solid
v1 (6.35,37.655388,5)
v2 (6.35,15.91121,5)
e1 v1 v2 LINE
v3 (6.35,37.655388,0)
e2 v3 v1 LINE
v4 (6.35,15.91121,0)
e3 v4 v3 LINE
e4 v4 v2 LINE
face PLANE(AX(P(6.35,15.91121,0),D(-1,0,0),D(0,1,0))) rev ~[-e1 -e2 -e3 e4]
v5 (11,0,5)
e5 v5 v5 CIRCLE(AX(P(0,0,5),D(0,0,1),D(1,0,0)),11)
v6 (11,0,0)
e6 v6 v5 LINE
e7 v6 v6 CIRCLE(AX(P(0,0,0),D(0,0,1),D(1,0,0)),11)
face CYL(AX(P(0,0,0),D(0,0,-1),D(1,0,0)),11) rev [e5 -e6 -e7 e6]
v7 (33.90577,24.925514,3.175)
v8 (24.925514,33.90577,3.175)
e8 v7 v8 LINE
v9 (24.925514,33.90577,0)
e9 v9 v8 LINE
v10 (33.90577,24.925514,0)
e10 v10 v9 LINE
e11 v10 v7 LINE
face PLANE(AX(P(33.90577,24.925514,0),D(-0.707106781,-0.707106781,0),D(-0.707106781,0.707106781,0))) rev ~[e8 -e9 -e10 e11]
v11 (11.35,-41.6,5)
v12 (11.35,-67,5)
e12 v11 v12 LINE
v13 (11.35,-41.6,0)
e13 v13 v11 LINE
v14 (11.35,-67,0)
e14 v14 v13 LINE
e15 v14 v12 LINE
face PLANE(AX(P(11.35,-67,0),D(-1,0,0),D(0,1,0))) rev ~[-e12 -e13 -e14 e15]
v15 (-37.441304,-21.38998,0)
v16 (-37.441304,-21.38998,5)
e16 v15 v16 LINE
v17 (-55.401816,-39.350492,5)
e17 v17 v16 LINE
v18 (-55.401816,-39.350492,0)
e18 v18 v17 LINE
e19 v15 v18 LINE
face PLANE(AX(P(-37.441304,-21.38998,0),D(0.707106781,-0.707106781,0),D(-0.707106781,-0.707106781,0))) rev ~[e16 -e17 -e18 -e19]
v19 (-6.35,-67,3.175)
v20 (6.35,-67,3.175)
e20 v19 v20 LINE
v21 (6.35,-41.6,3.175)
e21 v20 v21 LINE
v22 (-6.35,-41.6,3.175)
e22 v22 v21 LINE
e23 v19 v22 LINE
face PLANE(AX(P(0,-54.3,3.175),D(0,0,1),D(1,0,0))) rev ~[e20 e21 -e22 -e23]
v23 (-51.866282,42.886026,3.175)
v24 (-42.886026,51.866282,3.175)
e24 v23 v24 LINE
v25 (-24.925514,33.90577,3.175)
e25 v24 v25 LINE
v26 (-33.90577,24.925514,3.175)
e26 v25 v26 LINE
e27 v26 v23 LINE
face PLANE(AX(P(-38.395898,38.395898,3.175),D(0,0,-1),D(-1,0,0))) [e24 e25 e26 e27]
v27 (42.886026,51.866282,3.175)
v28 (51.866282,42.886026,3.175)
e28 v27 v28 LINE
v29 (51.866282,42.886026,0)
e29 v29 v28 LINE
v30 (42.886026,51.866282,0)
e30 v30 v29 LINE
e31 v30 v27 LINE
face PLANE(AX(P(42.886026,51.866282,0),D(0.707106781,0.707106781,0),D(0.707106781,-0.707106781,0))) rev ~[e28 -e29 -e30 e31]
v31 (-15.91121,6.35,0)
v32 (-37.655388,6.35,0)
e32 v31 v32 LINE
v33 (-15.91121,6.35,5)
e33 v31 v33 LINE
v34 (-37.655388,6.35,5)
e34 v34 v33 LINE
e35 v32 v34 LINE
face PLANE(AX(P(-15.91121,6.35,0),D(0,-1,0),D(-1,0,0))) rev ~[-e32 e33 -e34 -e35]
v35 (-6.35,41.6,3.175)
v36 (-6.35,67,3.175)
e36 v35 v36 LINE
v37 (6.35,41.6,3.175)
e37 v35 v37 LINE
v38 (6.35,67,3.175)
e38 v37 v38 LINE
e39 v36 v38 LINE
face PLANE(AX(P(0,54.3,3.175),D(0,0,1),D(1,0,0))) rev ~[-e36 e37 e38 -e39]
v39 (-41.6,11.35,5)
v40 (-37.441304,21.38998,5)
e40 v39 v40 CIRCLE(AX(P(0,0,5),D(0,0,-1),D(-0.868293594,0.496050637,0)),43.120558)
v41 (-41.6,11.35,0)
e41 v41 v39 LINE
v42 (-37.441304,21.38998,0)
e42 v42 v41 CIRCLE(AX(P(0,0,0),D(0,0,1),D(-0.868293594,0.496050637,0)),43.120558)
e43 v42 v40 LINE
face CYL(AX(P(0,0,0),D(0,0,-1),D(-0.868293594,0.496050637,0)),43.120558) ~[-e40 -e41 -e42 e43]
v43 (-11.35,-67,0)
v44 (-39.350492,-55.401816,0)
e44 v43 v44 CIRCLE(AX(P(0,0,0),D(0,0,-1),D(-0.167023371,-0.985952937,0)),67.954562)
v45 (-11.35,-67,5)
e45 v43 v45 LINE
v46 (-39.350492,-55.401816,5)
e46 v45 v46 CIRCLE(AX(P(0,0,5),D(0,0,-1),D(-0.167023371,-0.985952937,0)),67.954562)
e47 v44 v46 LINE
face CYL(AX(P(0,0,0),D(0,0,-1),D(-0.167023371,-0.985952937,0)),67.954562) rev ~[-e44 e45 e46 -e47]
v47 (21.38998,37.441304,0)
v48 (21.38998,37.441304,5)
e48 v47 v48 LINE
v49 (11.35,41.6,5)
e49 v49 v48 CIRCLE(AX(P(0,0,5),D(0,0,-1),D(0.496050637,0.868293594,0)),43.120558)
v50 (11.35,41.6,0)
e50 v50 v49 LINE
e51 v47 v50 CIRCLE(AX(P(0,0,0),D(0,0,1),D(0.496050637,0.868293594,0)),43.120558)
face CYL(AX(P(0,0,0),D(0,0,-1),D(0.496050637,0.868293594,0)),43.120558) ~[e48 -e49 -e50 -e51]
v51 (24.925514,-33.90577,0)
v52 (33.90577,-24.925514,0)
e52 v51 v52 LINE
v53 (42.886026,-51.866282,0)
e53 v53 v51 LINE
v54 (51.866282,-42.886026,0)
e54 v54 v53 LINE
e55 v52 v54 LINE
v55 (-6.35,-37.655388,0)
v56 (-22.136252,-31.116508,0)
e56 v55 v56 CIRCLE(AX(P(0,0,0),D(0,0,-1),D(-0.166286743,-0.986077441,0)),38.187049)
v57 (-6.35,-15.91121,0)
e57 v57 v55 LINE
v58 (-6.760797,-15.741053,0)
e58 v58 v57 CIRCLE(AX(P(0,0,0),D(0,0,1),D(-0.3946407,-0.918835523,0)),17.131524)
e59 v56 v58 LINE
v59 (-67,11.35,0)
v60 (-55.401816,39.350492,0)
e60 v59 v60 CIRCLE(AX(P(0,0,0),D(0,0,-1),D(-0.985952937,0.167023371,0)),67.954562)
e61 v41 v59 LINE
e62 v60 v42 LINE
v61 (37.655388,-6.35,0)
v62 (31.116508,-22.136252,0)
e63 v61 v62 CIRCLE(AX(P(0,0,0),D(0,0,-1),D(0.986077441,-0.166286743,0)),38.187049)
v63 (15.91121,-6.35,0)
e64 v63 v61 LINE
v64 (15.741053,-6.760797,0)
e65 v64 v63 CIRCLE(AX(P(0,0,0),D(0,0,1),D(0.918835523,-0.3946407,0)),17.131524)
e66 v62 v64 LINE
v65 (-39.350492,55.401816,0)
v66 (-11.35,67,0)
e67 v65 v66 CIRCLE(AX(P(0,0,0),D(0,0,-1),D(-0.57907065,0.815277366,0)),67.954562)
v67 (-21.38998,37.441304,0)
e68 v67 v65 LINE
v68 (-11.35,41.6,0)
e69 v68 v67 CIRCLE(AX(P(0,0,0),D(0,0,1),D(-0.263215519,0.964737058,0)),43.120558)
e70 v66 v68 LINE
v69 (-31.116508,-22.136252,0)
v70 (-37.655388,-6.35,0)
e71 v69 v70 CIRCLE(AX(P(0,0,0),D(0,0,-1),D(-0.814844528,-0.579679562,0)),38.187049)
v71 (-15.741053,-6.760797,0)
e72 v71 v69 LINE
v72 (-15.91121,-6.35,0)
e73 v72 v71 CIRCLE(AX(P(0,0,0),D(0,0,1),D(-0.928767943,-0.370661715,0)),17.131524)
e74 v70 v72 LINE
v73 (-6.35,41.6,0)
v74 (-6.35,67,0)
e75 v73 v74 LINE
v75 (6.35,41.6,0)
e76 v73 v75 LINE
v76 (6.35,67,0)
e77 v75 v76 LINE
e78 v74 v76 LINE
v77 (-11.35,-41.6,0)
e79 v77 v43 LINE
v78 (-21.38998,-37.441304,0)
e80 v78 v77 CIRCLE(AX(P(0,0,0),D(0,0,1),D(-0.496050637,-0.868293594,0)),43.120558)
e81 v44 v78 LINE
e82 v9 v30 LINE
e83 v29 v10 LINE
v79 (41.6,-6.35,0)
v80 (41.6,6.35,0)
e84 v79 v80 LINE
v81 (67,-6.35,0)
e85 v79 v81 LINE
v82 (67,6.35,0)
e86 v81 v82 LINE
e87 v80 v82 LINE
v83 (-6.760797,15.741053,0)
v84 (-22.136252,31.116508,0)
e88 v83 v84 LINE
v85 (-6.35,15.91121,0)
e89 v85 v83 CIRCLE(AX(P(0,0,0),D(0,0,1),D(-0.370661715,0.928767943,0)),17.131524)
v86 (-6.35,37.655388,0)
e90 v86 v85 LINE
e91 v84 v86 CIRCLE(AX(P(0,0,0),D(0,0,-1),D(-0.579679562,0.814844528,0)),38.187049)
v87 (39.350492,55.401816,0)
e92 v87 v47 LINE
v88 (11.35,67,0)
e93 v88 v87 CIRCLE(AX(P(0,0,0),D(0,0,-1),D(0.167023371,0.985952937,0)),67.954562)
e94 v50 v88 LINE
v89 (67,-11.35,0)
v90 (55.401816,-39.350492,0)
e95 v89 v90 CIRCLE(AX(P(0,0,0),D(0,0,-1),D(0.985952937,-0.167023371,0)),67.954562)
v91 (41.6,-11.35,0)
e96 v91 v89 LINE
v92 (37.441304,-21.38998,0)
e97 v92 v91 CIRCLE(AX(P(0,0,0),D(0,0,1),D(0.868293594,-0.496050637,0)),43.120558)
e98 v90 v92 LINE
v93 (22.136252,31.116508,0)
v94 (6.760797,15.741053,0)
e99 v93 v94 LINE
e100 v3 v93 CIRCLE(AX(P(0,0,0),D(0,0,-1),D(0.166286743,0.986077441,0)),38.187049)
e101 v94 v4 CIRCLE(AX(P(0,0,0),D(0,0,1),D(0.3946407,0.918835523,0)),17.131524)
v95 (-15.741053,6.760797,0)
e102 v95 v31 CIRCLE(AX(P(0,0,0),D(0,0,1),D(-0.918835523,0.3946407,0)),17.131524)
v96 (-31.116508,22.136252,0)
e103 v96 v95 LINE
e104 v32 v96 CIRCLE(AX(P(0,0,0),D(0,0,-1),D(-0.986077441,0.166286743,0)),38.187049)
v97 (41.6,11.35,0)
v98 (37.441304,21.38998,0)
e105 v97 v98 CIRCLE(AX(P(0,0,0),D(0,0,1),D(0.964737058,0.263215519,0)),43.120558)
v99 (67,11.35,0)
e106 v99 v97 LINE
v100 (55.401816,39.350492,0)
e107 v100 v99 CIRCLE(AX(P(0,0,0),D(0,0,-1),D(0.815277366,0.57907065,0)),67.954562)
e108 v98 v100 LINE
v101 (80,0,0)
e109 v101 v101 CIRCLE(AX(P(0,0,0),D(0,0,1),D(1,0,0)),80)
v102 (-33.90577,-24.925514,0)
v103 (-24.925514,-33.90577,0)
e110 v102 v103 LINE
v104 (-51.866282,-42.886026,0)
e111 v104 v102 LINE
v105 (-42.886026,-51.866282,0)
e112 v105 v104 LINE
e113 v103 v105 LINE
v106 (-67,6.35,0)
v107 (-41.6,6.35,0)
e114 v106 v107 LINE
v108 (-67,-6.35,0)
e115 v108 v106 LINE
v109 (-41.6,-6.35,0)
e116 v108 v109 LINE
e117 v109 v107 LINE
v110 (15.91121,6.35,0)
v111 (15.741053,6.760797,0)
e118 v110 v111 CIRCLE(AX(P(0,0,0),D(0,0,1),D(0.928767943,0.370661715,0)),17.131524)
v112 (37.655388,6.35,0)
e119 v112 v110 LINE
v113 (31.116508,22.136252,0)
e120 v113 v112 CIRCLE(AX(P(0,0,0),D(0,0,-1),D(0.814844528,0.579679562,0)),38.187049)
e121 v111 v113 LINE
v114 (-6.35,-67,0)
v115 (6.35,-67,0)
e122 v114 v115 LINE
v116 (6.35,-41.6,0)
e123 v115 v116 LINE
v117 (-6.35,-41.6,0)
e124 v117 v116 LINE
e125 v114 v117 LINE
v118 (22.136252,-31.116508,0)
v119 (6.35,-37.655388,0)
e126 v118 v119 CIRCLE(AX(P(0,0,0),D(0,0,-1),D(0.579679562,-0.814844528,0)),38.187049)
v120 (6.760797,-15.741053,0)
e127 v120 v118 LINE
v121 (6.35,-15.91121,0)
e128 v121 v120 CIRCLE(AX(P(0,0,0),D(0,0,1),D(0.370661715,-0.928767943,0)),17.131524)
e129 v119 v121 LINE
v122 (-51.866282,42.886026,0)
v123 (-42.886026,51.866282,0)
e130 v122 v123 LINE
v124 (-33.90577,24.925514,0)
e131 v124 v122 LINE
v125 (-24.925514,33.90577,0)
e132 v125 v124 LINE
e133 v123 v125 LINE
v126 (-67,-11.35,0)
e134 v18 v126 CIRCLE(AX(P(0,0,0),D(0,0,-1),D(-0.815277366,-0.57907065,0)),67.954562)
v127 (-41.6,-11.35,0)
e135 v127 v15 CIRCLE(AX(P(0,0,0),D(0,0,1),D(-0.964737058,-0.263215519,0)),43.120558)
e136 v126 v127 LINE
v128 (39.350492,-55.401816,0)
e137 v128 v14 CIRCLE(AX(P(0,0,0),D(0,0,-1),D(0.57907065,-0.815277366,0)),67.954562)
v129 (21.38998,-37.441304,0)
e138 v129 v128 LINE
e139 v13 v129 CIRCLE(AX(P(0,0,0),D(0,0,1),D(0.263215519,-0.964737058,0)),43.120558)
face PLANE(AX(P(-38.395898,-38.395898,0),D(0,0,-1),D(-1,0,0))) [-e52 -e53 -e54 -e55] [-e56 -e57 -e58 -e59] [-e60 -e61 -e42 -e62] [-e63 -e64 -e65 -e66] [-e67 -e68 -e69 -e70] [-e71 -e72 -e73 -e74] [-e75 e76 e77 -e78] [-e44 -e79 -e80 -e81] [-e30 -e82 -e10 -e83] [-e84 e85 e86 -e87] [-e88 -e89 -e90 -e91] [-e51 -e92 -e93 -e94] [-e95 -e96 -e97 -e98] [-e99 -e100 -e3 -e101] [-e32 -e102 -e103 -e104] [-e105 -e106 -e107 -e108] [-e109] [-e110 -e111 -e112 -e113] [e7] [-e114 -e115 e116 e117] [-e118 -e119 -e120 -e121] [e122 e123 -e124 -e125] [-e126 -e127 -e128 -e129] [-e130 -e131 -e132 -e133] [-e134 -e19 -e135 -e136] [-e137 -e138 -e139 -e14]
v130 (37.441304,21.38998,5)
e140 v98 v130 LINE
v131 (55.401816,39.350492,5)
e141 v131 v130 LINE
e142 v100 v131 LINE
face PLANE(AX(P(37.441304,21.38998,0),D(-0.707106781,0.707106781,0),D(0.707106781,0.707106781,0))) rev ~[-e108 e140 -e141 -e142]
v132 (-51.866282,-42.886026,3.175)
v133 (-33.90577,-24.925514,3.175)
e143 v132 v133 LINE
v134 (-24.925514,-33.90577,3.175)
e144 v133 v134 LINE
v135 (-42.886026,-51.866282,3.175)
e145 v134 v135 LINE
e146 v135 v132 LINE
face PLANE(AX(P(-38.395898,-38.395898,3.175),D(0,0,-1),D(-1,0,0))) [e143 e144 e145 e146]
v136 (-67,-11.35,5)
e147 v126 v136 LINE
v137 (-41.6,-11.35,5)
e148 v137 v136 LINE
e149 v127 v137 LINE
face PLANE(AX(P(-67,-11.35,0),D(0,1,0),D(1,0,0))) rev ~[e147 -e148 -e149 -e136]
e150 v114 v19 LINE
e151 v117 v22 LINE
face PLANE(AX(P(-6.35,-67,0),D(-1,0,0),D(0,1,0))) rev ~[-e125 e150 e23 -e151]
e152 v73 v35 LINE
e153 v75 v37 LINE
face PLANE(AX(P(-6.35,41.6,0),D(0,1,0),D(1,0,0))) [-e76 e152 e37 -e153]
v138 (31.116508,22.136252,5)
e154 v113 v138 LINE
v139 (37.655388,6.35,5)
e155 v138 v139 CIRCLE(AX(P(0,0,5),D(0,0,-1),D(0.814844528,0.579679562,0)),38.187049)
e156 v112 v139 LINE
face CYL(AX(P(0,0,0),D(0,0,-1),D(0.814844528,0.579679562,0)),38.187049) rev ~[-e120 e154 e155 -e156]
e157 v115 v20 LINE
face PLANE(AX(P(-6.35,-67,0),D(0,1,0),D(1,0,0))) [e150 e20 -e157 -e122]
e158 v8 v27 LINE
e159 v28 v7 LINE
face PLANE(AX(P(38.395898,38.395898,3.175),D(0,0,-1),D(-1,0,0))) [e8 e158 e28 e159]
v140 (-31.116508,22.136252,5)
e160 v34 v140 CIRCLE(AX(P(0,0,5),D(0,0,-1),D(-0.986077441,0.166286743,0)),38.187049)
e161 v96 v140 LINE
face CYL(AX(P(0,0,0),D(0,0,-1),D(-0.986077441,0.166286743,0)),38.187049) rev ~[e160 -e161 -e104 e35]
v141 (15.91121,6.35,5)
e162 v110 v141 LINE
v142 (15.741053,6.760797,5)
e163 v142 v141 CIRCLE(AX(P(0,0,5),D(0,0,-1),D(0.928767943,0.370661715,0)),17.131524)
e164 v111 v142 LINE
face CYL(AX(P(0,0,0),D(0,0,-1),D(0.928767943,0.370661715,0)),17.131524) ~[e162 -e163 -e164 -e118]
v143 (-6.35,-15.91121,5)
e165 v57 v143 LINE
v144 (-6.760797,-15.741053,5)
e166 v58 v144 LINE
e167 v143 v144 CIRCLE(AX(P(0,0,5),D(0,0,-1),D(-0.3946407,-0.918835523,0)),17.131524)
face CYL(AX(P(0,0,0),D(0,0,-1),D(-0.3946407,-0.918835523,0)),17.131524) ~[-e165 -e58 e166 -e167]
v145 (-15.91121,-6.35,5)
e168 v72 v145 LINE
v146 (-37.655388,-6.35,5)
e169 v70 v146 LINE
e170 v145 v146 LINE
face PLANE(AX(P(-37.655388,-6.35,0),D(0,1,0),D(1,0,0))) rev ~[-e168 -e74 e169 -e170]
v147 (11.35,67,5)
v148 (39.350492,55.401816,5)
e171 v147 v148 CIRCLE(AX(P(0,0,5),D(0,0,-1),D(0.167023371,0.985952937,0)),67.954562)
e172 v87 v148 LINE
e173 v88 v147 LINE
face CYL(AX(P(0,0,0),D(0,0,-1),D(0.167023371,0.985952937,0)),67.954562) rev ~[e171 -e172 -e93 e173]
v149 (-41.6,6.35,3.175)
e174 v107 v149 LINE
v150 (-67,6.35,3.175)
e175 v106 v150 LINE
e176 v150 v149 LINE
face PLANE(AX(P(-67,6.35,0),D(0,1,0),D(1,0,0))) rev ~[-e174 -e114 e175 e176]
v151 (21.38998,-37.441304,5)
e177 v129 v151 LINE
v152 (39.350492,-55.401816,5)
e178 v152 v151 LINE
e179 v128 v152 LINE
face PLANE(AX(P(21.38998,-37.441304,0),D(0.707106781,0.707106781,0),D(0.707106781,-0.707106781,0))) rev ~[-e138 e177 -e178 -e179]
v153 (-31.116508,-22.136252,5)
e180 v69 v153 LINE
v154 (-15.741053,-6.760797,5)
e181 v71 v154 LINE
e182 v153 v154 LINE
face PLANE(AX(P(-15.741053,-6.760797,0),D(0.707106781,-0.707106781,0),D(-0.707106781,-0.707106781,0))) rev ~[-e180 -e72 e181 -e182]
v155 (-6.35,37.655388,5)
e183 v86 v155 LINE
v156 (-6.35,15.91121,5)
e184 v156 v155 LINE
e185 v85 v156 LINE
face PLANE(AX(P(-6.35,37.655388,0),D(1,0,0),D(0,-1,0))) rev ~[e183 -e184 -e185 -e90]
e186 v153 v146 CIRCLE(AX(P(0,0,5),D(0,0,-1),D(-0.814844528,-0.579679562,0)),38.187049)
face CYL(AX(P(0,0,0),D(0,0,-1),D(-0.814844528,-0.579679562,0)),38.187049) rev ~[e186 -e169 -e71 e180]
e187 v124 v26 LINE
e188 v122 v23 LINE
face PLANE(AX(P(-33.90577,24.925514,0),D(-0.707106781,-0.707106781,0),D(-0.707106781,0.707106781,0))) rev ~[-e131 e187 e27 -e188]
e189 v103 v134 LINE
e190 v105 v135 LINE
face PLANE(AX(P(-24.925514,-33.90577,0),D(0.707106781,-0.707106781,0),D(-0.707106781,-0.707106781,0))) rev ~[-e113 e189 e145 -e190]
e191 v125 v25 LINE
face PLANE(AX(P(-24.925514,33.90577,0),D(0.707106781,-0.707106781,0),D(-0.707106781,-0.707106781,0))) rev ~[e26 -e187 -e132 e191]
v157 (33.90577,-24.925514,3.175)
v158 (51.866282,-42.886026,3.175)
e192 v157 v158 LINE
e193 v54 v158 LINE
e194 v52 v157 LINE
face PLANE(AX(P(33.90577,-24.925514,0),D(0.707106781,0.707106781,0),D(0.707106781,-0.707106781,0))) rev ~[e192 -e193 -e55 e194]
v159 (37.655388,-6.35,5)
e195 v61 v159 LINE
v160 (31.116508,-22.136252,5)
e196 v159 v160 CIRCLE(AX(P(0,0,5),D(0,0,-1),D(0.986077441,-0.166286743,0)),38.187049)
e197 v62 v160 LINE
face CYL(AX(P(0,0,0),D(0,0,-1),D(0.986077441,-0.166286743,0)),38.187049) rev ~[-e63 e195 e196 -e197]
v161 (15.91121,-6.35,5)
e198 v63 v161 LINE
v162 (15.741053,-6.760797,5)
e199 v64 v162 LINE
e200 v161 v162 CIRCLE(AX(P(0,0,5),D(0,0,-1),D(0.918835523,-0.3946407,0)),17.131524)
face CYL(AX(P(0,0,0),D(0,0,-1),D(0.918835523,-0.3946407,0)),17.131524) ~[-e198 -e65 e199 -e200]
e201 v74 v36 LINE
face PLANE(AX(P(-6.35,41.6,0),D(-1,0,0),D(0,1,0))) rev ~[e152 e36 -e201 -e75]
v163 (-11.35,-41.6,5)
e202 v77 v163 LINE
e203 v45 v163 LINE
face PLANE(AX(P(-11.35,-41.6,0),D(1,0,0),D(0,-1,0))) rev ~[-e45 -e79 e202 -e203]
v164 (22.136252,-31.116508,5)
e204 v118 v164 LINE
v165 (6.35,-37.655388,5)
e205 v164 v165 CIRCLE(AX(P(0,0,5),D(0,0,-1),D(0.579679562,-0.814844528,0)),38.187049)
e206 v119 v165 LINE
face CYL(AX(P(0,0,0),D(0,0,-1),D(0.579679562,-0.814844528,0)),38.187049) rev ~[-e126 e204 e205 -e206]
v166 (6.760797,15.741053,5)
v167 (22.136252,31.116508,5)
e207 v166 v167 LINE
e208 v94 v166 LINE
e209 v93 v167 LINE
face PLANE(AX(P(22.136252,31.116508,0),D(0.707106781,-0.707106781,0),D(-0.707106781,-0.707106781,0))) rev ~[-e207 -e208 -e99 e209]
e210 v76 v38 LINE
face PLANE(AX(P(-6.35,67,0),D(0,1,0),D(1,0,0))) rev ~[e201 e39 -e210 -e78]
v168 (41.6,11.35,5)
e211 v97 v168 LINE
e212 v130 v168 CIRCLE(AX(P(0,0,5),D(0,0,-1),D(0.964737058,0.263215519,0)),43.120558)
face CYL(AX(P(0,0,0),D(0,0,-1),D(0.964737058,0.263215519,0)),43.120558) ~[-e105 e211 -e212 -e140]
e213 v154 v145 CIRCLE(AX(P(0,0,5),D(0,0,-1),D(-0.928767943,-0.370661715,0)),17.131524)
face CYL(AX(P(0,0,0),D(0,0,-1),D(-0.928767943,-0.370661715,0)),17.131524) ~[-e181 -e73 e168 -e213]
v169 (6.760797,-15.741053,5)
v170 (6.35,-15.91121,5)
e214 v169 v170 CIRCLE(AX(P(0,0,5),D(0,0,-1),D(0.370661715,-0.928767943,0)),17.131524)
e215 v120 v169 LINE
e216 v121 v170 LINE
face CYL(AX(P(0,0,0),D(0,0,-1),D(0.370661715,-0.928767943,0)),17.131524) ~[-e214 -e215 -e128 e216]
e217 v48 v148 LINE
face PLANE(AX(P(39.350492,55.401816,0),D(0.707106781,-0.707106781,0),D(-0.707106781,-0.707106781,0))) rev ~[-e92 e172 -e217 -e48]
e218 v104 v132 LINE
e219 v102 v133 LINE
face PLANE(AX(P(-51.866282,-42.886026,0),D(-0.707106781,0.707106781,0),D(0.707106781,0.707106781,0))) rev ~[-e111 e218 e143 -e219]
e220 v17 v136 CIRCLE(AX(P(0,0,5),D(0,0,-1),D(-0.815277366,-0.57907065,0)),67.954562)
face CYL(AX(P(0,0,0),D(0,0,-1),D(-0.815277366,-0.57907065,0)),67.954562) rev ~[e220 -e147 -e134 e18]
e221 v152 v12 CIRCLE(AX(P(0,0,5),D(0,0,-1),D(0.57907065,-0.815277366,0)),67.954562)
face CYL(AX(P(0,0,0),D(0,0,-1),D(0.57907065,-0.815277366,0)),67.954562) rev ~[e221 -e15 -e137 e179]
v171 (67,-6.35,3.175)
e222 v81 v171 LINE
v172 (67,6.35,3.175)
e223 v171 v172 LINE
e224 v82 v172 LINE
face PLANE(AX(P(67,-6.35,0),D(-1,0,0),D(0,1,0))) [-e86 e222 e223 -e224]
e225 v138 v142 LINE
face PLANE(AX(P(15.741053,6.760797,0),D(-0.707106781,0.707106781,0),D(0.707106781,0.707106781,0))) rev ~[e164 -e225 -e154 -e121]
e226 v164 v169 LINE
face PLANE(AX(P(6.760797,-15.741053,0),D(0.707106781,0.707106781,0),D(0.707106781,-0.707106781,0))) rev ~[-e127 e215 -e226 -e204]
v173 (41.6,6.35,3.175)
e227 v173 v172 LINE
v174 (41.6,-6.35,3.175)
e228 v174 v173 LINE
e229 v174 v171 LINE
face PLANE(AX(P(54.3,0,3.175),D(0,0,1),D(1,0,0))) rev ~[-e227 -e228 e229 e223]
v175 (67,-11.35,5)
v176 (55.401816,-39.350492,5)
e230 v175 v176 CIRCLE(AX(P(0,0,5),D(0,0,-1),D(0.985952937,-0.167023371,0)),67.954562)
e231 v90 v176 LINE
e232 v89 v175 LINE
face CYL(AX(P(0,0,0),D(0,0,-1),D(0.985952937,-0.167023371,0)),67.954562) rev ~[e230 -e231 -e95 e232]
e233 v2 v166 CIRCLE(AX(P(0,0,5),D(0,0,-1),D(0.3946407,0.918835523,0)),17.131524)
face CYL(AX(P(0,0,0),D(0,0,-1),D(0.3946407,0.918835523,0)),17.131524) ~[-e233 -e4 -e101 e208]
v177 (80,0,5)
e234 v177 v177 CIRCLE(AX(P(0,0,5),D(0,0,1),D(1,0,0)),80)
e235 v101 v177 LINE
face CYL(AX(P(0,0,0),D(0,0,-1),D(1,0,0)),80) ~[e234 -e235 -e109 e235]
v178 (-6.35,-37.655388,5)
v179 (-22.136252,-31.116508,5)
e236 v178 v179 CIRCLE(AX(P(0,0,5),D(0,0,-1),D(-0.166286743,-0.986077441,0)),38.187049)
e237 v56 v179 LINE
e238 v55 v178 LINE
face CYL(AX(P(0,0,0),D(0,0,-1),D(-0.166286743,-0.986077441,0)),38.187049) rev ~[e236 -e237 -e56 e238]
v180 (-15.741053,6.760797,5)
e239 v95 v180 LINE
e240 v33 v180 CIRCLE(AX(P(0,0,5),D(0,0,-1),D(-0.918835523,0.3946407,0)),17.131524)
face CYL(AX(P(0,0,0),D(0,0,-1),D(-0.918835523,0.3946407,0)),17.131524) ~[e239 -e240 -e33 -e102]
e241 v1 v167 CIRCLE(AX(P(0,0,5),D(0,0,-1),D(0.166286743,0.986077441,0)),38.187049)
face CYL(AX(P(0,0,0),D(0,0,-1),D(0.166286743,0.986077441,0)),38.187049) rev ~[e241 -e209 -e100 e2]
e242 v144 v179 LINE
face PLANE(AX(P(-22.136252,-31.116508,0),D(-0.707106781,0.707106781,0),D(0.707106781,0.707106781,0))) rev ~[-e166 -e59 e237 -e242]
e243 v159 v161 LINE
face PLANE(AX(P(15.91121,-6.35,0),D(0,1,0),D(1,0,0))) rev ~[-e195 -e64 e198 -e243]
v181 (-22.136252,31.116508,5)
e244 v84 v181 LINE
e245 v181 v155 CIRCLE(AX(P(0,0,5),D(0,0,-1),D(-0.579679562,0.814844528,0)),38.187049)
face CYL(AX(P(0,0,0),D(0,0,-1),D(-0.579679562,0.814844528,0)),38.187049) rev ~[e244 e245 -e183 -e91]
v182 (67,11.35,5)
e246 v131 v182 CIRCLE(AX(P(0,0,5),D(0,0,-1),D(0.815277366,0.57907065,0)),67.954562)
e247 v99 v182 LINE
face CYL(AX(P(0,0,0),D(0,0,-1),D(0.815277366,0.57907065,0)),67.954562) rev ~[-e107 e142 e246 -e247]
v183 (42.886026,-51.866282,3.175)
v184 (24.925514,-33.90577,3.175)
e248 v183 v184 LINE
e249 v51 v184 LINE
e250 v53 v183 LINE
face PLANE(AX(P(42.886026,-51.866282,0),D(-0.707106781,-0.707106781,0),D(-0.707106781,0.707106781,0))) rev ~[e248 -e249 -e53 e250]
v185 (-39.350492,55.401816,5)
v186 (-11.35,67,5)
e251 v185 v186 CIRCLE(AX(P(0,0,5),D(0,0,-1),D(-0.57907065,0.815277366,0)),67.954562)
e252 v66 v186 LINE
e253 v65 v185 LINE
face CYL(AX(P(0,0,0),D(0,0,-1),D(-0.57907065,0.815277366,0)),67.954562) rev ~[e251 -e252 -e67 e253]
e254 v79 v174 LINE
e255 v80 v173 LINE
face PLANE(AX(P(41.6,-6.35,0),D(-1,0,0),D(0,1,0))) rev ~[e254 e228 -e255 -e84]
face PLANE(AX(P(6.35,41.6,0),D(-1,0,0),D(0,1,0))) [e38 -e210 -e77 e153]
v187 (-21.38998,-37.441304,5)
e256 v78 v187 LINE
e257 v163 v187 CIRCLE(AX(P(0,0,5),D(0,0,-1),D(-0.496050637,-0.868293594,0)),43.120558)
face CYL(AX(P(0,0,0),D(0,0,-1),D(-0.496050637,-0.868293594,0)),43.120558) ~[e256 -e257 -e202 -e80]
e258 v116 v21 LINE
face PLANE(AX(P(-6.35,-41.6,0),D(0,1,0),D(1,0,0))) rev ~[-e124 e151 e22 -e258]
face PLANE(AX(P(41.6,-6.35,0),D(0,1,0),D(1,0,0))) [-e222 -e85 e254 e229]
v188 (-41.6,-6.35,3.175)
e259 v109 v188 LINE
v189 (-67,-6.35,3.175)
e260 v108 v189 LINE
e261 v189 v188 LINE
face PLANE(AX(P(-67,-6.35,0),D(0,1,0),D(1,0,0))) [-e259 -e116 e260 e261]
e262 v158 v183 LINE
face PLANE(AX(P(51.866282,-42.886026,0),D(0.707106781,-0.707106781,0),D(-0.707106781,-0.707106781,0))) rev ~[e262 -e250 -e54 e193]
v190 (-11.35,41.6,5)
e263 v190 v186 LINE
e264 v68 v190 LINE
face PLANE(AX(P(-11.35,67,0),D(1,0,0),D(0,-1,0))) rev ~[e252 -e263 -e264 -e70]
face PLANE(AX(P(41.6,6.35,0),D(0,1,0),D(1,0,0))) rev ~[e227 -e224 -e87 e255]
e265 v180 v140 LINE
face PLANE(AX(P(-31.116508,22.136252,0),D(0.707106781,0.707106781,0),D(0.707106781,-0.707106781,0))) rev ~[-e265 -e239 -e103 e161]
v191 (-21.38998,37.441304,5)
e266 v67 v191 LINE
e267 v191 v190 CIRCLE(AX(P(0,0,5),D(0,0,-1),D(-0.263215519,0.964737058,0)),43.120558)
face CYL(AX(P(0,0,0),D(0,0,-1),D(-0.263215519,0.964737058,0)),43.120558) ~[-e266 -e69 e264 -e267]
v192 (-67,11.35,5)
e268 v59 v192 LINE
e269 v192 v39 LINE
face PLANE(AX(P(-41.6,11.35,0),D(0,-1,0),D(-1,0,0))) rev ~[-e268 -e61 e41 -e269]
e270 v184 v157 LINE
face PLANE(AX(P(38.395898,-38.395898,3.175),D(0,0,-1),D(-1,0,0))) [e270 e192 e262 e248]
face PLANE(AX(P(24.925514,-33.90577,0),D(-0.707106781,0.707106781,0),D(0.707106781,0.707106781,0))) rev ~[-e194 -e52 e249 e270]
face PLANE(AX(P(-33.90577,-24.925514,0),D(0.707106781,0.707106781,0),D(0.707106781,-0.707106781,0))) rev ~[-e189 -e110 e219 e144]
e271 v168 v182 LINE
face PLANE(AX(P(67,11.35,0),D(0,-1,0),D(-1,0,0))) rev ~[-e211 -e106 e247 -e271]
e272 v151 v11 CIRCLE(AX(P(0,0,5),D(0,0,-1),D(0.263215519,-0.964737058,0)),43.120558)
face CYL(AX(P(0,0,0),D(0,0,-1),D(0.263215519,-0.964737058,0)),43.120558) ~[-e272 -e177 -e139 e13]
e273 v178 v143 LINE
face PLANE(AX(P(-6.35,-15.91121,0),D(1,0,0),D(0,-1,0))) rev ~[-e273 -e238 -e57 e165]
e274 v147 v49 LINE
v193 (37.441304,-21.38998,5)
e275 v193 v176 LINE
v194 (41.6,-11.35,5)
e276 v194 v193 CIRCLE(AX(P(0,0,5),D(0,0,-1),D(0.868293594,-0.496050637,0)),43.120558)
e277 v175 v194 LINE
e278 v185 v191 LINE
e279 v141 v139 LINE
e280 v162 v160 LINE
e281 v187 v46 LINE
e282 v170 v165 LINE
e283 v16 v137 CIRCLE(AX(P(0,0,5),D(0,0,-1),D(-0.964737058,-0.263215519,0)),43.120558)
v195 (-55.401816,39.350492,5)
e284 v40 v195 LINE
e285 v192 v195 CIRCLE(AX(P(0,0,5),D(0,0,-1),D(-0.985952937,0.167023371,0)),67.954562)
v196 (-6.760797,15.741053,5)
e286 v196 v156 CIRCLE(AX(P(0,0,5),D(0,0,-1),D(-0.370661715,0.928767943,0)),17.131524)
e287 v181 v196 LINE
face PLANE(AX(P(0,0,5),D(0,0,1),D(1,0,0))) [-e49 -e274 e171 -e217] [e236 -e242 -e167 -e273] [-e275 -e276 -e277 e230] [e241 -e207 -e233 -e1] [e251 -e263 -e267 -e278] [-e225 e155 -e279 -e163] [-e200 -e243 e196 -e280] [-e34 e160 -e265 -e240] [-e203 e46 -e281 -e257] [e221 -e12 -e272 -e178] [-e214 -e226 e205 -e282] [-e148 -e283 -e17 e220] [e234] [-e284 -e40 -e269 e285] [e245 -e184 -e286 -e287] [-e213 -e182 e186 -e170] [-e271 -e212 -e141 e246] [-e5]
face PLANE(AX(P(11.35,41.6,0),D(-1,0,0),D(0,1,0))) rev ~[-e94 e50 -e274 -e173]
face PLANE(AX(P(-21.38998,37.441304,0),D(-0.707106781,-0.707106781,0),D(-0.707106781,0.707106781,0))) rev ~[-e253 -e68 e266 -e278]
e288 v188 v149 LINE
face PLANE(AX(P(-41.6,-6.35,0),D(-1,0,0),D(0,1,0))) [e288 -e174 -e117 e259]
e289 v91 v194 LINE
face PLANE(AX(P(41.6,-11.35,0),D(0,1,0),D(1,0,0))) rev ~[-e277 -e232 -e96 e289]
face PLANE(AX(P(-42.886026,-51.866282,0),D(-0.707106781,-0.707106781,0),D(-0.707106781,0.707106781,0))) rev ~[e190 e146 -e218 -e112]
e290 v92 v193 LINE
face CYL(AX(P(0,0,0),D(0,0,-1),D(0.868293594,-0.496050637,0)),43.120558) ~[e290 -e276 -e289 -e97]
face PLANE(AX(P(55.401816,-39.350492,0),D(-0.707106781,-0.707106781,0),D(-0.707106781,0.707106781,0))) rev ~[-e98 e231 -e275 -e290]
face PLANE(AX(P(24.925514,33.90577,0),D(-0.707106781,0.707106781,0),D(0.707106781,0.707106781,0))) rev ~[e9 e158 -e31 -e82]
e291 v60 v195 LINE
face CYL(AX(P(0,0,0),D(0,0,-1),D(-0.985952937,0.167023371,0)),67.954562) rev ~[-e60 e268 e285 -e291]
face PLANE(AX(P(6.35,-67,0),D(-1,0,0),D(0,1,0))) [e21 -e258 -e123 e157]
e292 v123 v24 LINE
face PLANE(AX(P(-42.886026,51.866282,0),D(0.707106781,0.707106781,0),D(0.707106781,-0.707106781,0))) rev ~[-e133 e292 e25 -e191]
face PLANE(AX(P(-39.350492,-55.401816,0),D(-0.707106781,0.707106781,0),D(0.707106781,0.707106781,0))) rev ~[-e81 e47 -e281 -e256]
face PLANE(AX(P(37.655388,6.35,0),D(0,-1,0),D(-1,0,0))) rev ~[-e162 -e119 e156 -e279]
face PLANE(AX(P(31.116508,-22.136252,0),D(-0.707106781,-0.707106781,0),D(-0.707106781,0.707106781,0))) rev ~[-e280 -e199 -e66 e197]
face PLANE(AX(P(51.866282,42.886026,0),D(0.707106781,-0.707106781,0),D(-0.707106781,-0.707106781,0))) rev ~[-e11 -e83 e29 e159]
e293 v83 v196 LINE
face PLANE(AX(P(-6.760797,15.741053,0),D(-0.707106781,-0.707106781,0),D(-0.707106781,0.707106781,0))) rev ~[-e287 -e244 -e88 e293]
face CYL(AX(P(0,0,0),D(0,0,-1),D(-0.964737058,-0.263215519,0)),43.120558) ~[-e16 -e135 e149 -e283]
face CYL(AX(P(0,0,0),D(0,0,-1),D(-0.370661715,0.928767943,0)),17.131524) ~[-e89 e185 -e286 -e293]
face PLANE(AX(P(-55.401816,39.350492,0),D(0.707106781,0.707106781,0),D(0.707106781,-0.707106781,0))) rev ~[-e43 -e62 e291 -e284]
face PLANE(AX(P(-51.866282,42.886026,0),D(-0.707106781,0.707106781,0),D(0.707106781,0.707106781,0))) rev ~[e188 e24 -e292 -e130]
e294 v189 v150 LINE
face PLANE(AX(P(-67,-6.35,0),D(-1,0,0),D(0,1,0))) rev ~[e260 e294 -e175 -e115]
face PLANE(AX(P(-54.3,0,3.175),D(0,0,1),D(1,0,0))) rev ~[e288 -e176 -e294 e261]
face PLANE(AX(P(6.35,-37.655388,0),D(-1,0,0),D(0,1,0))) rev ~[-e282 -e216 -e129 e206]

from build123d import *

# Parameters (mm, degrees)
SKETCH1_R           = 80
SKETCH1_R_2         = 11
BOSS_EXTRUDE1_DEPTH = 5
SKETCH1_3_W         = 25.4
SKETCH1_3_H         = 12.7
SKETCH1_3_W_2       = 12.7
SKETCH1_3_H_2       = 25.4
CUT_EXTRUDE2_DEPTH  = 3.175
CUT_EXTRUDE3_DEPTH  = 19
CUT_EXTRUDE4_DEPTH  = 19


with BuildPart() as part:
    # Sketch1 → Boss-Extrude1 (new body)
    with BuildSketch(Plane.XY):
        Circle(SKETCH1_R)
        Circle(SKETCH1_R_2, mode=Mode.SUBTRACT)
    extrude(amount=BOSS_EXTRUDE1_DEPTH)

    # Sketch1<3> → Cut-Extrude2 (cut)
    with BuildSketch(Plane.XY):
        Polygon((33.905770158, -24.925514037), (51.8662824, -42.886026279), (42.886026279, -51.8662824), (24.925514037, -33.905770158), align=None)
        with Locations((54.3, 0)):
            Rectangle(SKETCH1_3_W, SKETCH1_3_H)
        with Locations((0, -54.3)):
            Rectangle(SKETCH1_3_W_2, SKETCH1_3_H_2)
        Polygon((-24.925514037, -33.905770158), (-42.886026279, -51.8662824), (-51.8662824, -42.886026279), (-33.905770158, -24.925514037), align=None)
        with Locations((-54.3, 0)):
            Rectangle(SKETCH1_3_W, SKETCH1_3_H)
        Polygon((-33.905770158, 24.925514037), (-51.8662824, 42.886026279), (-42.886026279, 51.8662824), (-24.925514037, 33.905770158), align=None)
        with Locations((0, 54.3)):
            Rectangle(SKETCH1_3_W_2, SKETCH1_3_H_2)
        Polygon((24.925514037, 33.905770158), (42.886026279, 51.8662824), (51.8662824, 42.886026279), (33.905770158, 24.925514037), align=None)
    extrude(amount=CUT_EXTRUDE2_DEPTH, mode=Mode.SUBTRACT)

    # Sketch2 → Cut-Extrude3 (cut)
    with BuildSketch(Plane(origin=(0, 0, 0), x_dir=(-1, 0, 0), z_dir=(0, 0, -1))):
        with BuildLine():
            ThreePointArc((31.116508001, -22.13625188), (35.280233052, -14.613551014), (37.655387628, -6.35))
            Line((37.655387628, -6.35), (15.911210185, -6.35))
            ThreePointArc((15.911210185, -6.35), (15.827464249, -6.55595035), (15.741052679, -6.760796558))
            Line((15.741052679, -6.760796558), (31.116508001, -22.13625188))
        make_face()
        with BuildLine():
            ThreePointArc((6.35, -37.655387628), (14.613551014, -35.280233052), (22.13625188, -31.116508001))
            Line((22.13625188, -31.116508001), (6.760796558, -15.741052679))
            ThreePointArc((6.760796558, -15.741052679), (6.55595035, -15.827464249), (6.35, -15.911210185))
            Line((6.35, -15.911210185), (6.35, -37.655387628))
        make_face()
        with BuildLine():
            Line((15.911210185, 6.35), (37.655387628, 6.35))
            ThreePointArc((37.655387628, 6.35), (35.280233052, 14.613551014), (31.116508001, 22.13625188))
            Line((31.116508001, 22.13625188), (15.741052679, 6.760796558))
            ThreePointArc((15.741052679, 6.760796558), (15.827464249, 6.55595035), (15.911210185, 6.35))
        make_face()
        with BuildLine():
            ThreePointArc((-22.13625188, -31.116508001), (-14.613551014, -35.280233052), (-6.35, -37.655387628))
            Line((-6.35, -37.655387628), (-6.35, -15.911210185))
            ThreePointArc((-6.35, -15.911210185), (-6.55595035, -15.827464249), (-6.760796558, -15.741052679))
            Line((-6.760796558, -15.741052679), (-22.13625188, -31.116508001))
        make_face()
        with BuildLine():
            Line((6.760796558, 15.741052679), (22.13625188, 31.116508001))
            ThreePointArc((22.13625188, 31.116508001), (14.613551014, 35.280233052), (6.35, 37.655387628))
            Line((6.35, 37.655387628), (6.35, 15.911210185))
            ThreePointArc((6.35, 15.911210185), (6.55595035, 15.827464249), (6.760796558, 15.741052679))
        make_face()
        with BuildLine():
            ThreePointArc((-37.655387628, -6.35), (-35.280233052, -14.613551014), (-31.116508001, -22.13625188))
            Line((-31.116508001, -22.13625188), (-15.741052679, -6.760796558))
            ThreePointArc((-15.741052679, -6.760796558), (-15.827464249, -6.55595035), (-15.911210185, -6.35))
            Line((-15.911210185, -6.35), (-37.655387628, -6.35))
        make_face()
        with BuildLine():
            Line((-6.35, 15.911210185), (-6.35, 37.655387628))
            ThreePointArc((-6.35, 37.655387628), (-14.613551014, 35.280233052), (-22.13625188, 31.116508001))
            Line((-22.13625188, 31.116508001), (-6.760796558, 15.741052679))
            ThreePointArc((-6.760796558, 15.741052679), (-6.55595035, 15.827464249), (-6.35, 15.911210185))
        make_face()
        with BuildLine():
            ThreePointArc((-31.116508001, 22.13625188), (-35.280233052, 14.613551014), (-37.655387628, 6.35))
            Line((-37.655387628, 6.35), (-15.911210185, 6.35))
            ThreePointArc((-15.911210185, 6.35), (-15.827464249, 6.55595035), (-15.741052679, 6.760796558))
            Line((-15.741052679, 6.760796558), (-31.116508001, 22.13625188))
        make_face()
    extrude(amount=-CUT_EXTRUDE3_DEPTH, mode=Mode.SUBTRACT)

    # Sketch3 → Cut-Extrude4 (cut)
    with BuildSketch(Plane(origin=(0, 0, 0), x_dir=(-1, 0, 0), z_dir=(0, 0, -1))):
        with BuildLine():
            Line((39.350492373, -55.401816306), (21.389980131, -37.441304064))
            ThreePointArc((21.389980131, -37.441304064), (16.501523042, -39.838200729), (11.35, -41.6))
            Line((11.35, -41.6), (11.35, -67))
            ThreePointArc((11.35, -67), (26.005085041, -62.781828996), (39.350492373, -55.401816306))
        make_face()
        with BuildLine():
            Line((55.401816306, 39.350492373), (37.441304064, 21.389980131))
            ThreePointArc((37.441304064, 21.389980131), (39.838200729, 16.501523042), (41.6, 11.35))
            Line((41.6, 11.35), (67, 11.35))
            ThreePointArc((67, 11.35), (62.781828996, 26.005085041), (55.401816306, 39.350492373))
        make_face()
        with BuildLine():
            Line((-55.401816306, -39.350492373), (-37.441304064, -21.389980131))
            ThreePointArc((-37.441304064, -21.389980131), (-39.838200729, -16.501523042), (-41.6, -11.35))
            Line((-41.6, -11.35), (-67, -11.35))
            ThreePointArc((-67, -11.35), (-62.781828996, -26.005085041), (-55.401816306, -39.350492373))
        make_face()
        with BuildLine():
            Line((-39.350492373, 55.401816306), (-21.389980131, 37.441304064))
            ThreePointArc((-21.389980131, 37.441304064), (-16.501523042, 39.838200729), (-11.35, 41.6))
            Line((-11.35, 41.6), (-11.35, 67))
            ThreePointArc((-11.35, 67), (-26.005085041, 62.781828996), (-39.350492373, 55.401816306))
        make_face()
        with BuildLine():
            Line((67, -11.35), (41.6, -11.35))
            ThreePointArc((41.6, -11.35), (39.838200729, -16.501523042), (37.441304064, -21.389980131))
            Line((37.441304064, -21.389980131), (55.401816306, -39.350492373))
            ThreePointArc((55.401816306, -39.350492373), (62.781828996, -26.005085041), (67, -11.35))
        make_face()
        with BuildLine():
            Line((-11.35, -67), (-11.35, -41.6))
            ThreePointArc((-11.35, -41.6), (-16.501523042, -39.838200729), (-21.389980131, -37.441304064))
            Line((-21.389980131, -37.441304064), (-39.350492373, -55.401816306))
            ThreePointArc((-39.350492373, -55.401816306), (-26.005085041, -62.781828996), (-11.35, -67))
        make_face()
        with BuildLine():
            Line((-67, 11.35), (-41.6, 11.35))
            ThreePointArc((-41.6, 11.35), (-39.838200729, 16.501523042), (-37.441304064, 21.389980131))
            Line((-37.441304064, 21.389980131), (-55.401816306, 39.350492373))
            ThreePointArc((-55.401816306, 39.350492373), (-62.781828996, 26.005085041), (-67, 11.35))
        make_face()
        with BuildLine():
            Line((11.35, 67), (11.35, 41.6))
            ThreePointArc((11.35, 41.6), (16.501523042, 39.838200729), (21.389980131, 37.441304064))
            Line((21.389980131, 37.441304064), (39.350492373, 55.401816306))
            ThreePointArc((39.350492373, 55.401816306), (26.005085041, 62.781828996), (11.35, 67))
        make_face()
    extrude(amount=-CUT_EXTRUDE4_DEPTH, mode=Mode.SUBTRACT)


solid = part.part
